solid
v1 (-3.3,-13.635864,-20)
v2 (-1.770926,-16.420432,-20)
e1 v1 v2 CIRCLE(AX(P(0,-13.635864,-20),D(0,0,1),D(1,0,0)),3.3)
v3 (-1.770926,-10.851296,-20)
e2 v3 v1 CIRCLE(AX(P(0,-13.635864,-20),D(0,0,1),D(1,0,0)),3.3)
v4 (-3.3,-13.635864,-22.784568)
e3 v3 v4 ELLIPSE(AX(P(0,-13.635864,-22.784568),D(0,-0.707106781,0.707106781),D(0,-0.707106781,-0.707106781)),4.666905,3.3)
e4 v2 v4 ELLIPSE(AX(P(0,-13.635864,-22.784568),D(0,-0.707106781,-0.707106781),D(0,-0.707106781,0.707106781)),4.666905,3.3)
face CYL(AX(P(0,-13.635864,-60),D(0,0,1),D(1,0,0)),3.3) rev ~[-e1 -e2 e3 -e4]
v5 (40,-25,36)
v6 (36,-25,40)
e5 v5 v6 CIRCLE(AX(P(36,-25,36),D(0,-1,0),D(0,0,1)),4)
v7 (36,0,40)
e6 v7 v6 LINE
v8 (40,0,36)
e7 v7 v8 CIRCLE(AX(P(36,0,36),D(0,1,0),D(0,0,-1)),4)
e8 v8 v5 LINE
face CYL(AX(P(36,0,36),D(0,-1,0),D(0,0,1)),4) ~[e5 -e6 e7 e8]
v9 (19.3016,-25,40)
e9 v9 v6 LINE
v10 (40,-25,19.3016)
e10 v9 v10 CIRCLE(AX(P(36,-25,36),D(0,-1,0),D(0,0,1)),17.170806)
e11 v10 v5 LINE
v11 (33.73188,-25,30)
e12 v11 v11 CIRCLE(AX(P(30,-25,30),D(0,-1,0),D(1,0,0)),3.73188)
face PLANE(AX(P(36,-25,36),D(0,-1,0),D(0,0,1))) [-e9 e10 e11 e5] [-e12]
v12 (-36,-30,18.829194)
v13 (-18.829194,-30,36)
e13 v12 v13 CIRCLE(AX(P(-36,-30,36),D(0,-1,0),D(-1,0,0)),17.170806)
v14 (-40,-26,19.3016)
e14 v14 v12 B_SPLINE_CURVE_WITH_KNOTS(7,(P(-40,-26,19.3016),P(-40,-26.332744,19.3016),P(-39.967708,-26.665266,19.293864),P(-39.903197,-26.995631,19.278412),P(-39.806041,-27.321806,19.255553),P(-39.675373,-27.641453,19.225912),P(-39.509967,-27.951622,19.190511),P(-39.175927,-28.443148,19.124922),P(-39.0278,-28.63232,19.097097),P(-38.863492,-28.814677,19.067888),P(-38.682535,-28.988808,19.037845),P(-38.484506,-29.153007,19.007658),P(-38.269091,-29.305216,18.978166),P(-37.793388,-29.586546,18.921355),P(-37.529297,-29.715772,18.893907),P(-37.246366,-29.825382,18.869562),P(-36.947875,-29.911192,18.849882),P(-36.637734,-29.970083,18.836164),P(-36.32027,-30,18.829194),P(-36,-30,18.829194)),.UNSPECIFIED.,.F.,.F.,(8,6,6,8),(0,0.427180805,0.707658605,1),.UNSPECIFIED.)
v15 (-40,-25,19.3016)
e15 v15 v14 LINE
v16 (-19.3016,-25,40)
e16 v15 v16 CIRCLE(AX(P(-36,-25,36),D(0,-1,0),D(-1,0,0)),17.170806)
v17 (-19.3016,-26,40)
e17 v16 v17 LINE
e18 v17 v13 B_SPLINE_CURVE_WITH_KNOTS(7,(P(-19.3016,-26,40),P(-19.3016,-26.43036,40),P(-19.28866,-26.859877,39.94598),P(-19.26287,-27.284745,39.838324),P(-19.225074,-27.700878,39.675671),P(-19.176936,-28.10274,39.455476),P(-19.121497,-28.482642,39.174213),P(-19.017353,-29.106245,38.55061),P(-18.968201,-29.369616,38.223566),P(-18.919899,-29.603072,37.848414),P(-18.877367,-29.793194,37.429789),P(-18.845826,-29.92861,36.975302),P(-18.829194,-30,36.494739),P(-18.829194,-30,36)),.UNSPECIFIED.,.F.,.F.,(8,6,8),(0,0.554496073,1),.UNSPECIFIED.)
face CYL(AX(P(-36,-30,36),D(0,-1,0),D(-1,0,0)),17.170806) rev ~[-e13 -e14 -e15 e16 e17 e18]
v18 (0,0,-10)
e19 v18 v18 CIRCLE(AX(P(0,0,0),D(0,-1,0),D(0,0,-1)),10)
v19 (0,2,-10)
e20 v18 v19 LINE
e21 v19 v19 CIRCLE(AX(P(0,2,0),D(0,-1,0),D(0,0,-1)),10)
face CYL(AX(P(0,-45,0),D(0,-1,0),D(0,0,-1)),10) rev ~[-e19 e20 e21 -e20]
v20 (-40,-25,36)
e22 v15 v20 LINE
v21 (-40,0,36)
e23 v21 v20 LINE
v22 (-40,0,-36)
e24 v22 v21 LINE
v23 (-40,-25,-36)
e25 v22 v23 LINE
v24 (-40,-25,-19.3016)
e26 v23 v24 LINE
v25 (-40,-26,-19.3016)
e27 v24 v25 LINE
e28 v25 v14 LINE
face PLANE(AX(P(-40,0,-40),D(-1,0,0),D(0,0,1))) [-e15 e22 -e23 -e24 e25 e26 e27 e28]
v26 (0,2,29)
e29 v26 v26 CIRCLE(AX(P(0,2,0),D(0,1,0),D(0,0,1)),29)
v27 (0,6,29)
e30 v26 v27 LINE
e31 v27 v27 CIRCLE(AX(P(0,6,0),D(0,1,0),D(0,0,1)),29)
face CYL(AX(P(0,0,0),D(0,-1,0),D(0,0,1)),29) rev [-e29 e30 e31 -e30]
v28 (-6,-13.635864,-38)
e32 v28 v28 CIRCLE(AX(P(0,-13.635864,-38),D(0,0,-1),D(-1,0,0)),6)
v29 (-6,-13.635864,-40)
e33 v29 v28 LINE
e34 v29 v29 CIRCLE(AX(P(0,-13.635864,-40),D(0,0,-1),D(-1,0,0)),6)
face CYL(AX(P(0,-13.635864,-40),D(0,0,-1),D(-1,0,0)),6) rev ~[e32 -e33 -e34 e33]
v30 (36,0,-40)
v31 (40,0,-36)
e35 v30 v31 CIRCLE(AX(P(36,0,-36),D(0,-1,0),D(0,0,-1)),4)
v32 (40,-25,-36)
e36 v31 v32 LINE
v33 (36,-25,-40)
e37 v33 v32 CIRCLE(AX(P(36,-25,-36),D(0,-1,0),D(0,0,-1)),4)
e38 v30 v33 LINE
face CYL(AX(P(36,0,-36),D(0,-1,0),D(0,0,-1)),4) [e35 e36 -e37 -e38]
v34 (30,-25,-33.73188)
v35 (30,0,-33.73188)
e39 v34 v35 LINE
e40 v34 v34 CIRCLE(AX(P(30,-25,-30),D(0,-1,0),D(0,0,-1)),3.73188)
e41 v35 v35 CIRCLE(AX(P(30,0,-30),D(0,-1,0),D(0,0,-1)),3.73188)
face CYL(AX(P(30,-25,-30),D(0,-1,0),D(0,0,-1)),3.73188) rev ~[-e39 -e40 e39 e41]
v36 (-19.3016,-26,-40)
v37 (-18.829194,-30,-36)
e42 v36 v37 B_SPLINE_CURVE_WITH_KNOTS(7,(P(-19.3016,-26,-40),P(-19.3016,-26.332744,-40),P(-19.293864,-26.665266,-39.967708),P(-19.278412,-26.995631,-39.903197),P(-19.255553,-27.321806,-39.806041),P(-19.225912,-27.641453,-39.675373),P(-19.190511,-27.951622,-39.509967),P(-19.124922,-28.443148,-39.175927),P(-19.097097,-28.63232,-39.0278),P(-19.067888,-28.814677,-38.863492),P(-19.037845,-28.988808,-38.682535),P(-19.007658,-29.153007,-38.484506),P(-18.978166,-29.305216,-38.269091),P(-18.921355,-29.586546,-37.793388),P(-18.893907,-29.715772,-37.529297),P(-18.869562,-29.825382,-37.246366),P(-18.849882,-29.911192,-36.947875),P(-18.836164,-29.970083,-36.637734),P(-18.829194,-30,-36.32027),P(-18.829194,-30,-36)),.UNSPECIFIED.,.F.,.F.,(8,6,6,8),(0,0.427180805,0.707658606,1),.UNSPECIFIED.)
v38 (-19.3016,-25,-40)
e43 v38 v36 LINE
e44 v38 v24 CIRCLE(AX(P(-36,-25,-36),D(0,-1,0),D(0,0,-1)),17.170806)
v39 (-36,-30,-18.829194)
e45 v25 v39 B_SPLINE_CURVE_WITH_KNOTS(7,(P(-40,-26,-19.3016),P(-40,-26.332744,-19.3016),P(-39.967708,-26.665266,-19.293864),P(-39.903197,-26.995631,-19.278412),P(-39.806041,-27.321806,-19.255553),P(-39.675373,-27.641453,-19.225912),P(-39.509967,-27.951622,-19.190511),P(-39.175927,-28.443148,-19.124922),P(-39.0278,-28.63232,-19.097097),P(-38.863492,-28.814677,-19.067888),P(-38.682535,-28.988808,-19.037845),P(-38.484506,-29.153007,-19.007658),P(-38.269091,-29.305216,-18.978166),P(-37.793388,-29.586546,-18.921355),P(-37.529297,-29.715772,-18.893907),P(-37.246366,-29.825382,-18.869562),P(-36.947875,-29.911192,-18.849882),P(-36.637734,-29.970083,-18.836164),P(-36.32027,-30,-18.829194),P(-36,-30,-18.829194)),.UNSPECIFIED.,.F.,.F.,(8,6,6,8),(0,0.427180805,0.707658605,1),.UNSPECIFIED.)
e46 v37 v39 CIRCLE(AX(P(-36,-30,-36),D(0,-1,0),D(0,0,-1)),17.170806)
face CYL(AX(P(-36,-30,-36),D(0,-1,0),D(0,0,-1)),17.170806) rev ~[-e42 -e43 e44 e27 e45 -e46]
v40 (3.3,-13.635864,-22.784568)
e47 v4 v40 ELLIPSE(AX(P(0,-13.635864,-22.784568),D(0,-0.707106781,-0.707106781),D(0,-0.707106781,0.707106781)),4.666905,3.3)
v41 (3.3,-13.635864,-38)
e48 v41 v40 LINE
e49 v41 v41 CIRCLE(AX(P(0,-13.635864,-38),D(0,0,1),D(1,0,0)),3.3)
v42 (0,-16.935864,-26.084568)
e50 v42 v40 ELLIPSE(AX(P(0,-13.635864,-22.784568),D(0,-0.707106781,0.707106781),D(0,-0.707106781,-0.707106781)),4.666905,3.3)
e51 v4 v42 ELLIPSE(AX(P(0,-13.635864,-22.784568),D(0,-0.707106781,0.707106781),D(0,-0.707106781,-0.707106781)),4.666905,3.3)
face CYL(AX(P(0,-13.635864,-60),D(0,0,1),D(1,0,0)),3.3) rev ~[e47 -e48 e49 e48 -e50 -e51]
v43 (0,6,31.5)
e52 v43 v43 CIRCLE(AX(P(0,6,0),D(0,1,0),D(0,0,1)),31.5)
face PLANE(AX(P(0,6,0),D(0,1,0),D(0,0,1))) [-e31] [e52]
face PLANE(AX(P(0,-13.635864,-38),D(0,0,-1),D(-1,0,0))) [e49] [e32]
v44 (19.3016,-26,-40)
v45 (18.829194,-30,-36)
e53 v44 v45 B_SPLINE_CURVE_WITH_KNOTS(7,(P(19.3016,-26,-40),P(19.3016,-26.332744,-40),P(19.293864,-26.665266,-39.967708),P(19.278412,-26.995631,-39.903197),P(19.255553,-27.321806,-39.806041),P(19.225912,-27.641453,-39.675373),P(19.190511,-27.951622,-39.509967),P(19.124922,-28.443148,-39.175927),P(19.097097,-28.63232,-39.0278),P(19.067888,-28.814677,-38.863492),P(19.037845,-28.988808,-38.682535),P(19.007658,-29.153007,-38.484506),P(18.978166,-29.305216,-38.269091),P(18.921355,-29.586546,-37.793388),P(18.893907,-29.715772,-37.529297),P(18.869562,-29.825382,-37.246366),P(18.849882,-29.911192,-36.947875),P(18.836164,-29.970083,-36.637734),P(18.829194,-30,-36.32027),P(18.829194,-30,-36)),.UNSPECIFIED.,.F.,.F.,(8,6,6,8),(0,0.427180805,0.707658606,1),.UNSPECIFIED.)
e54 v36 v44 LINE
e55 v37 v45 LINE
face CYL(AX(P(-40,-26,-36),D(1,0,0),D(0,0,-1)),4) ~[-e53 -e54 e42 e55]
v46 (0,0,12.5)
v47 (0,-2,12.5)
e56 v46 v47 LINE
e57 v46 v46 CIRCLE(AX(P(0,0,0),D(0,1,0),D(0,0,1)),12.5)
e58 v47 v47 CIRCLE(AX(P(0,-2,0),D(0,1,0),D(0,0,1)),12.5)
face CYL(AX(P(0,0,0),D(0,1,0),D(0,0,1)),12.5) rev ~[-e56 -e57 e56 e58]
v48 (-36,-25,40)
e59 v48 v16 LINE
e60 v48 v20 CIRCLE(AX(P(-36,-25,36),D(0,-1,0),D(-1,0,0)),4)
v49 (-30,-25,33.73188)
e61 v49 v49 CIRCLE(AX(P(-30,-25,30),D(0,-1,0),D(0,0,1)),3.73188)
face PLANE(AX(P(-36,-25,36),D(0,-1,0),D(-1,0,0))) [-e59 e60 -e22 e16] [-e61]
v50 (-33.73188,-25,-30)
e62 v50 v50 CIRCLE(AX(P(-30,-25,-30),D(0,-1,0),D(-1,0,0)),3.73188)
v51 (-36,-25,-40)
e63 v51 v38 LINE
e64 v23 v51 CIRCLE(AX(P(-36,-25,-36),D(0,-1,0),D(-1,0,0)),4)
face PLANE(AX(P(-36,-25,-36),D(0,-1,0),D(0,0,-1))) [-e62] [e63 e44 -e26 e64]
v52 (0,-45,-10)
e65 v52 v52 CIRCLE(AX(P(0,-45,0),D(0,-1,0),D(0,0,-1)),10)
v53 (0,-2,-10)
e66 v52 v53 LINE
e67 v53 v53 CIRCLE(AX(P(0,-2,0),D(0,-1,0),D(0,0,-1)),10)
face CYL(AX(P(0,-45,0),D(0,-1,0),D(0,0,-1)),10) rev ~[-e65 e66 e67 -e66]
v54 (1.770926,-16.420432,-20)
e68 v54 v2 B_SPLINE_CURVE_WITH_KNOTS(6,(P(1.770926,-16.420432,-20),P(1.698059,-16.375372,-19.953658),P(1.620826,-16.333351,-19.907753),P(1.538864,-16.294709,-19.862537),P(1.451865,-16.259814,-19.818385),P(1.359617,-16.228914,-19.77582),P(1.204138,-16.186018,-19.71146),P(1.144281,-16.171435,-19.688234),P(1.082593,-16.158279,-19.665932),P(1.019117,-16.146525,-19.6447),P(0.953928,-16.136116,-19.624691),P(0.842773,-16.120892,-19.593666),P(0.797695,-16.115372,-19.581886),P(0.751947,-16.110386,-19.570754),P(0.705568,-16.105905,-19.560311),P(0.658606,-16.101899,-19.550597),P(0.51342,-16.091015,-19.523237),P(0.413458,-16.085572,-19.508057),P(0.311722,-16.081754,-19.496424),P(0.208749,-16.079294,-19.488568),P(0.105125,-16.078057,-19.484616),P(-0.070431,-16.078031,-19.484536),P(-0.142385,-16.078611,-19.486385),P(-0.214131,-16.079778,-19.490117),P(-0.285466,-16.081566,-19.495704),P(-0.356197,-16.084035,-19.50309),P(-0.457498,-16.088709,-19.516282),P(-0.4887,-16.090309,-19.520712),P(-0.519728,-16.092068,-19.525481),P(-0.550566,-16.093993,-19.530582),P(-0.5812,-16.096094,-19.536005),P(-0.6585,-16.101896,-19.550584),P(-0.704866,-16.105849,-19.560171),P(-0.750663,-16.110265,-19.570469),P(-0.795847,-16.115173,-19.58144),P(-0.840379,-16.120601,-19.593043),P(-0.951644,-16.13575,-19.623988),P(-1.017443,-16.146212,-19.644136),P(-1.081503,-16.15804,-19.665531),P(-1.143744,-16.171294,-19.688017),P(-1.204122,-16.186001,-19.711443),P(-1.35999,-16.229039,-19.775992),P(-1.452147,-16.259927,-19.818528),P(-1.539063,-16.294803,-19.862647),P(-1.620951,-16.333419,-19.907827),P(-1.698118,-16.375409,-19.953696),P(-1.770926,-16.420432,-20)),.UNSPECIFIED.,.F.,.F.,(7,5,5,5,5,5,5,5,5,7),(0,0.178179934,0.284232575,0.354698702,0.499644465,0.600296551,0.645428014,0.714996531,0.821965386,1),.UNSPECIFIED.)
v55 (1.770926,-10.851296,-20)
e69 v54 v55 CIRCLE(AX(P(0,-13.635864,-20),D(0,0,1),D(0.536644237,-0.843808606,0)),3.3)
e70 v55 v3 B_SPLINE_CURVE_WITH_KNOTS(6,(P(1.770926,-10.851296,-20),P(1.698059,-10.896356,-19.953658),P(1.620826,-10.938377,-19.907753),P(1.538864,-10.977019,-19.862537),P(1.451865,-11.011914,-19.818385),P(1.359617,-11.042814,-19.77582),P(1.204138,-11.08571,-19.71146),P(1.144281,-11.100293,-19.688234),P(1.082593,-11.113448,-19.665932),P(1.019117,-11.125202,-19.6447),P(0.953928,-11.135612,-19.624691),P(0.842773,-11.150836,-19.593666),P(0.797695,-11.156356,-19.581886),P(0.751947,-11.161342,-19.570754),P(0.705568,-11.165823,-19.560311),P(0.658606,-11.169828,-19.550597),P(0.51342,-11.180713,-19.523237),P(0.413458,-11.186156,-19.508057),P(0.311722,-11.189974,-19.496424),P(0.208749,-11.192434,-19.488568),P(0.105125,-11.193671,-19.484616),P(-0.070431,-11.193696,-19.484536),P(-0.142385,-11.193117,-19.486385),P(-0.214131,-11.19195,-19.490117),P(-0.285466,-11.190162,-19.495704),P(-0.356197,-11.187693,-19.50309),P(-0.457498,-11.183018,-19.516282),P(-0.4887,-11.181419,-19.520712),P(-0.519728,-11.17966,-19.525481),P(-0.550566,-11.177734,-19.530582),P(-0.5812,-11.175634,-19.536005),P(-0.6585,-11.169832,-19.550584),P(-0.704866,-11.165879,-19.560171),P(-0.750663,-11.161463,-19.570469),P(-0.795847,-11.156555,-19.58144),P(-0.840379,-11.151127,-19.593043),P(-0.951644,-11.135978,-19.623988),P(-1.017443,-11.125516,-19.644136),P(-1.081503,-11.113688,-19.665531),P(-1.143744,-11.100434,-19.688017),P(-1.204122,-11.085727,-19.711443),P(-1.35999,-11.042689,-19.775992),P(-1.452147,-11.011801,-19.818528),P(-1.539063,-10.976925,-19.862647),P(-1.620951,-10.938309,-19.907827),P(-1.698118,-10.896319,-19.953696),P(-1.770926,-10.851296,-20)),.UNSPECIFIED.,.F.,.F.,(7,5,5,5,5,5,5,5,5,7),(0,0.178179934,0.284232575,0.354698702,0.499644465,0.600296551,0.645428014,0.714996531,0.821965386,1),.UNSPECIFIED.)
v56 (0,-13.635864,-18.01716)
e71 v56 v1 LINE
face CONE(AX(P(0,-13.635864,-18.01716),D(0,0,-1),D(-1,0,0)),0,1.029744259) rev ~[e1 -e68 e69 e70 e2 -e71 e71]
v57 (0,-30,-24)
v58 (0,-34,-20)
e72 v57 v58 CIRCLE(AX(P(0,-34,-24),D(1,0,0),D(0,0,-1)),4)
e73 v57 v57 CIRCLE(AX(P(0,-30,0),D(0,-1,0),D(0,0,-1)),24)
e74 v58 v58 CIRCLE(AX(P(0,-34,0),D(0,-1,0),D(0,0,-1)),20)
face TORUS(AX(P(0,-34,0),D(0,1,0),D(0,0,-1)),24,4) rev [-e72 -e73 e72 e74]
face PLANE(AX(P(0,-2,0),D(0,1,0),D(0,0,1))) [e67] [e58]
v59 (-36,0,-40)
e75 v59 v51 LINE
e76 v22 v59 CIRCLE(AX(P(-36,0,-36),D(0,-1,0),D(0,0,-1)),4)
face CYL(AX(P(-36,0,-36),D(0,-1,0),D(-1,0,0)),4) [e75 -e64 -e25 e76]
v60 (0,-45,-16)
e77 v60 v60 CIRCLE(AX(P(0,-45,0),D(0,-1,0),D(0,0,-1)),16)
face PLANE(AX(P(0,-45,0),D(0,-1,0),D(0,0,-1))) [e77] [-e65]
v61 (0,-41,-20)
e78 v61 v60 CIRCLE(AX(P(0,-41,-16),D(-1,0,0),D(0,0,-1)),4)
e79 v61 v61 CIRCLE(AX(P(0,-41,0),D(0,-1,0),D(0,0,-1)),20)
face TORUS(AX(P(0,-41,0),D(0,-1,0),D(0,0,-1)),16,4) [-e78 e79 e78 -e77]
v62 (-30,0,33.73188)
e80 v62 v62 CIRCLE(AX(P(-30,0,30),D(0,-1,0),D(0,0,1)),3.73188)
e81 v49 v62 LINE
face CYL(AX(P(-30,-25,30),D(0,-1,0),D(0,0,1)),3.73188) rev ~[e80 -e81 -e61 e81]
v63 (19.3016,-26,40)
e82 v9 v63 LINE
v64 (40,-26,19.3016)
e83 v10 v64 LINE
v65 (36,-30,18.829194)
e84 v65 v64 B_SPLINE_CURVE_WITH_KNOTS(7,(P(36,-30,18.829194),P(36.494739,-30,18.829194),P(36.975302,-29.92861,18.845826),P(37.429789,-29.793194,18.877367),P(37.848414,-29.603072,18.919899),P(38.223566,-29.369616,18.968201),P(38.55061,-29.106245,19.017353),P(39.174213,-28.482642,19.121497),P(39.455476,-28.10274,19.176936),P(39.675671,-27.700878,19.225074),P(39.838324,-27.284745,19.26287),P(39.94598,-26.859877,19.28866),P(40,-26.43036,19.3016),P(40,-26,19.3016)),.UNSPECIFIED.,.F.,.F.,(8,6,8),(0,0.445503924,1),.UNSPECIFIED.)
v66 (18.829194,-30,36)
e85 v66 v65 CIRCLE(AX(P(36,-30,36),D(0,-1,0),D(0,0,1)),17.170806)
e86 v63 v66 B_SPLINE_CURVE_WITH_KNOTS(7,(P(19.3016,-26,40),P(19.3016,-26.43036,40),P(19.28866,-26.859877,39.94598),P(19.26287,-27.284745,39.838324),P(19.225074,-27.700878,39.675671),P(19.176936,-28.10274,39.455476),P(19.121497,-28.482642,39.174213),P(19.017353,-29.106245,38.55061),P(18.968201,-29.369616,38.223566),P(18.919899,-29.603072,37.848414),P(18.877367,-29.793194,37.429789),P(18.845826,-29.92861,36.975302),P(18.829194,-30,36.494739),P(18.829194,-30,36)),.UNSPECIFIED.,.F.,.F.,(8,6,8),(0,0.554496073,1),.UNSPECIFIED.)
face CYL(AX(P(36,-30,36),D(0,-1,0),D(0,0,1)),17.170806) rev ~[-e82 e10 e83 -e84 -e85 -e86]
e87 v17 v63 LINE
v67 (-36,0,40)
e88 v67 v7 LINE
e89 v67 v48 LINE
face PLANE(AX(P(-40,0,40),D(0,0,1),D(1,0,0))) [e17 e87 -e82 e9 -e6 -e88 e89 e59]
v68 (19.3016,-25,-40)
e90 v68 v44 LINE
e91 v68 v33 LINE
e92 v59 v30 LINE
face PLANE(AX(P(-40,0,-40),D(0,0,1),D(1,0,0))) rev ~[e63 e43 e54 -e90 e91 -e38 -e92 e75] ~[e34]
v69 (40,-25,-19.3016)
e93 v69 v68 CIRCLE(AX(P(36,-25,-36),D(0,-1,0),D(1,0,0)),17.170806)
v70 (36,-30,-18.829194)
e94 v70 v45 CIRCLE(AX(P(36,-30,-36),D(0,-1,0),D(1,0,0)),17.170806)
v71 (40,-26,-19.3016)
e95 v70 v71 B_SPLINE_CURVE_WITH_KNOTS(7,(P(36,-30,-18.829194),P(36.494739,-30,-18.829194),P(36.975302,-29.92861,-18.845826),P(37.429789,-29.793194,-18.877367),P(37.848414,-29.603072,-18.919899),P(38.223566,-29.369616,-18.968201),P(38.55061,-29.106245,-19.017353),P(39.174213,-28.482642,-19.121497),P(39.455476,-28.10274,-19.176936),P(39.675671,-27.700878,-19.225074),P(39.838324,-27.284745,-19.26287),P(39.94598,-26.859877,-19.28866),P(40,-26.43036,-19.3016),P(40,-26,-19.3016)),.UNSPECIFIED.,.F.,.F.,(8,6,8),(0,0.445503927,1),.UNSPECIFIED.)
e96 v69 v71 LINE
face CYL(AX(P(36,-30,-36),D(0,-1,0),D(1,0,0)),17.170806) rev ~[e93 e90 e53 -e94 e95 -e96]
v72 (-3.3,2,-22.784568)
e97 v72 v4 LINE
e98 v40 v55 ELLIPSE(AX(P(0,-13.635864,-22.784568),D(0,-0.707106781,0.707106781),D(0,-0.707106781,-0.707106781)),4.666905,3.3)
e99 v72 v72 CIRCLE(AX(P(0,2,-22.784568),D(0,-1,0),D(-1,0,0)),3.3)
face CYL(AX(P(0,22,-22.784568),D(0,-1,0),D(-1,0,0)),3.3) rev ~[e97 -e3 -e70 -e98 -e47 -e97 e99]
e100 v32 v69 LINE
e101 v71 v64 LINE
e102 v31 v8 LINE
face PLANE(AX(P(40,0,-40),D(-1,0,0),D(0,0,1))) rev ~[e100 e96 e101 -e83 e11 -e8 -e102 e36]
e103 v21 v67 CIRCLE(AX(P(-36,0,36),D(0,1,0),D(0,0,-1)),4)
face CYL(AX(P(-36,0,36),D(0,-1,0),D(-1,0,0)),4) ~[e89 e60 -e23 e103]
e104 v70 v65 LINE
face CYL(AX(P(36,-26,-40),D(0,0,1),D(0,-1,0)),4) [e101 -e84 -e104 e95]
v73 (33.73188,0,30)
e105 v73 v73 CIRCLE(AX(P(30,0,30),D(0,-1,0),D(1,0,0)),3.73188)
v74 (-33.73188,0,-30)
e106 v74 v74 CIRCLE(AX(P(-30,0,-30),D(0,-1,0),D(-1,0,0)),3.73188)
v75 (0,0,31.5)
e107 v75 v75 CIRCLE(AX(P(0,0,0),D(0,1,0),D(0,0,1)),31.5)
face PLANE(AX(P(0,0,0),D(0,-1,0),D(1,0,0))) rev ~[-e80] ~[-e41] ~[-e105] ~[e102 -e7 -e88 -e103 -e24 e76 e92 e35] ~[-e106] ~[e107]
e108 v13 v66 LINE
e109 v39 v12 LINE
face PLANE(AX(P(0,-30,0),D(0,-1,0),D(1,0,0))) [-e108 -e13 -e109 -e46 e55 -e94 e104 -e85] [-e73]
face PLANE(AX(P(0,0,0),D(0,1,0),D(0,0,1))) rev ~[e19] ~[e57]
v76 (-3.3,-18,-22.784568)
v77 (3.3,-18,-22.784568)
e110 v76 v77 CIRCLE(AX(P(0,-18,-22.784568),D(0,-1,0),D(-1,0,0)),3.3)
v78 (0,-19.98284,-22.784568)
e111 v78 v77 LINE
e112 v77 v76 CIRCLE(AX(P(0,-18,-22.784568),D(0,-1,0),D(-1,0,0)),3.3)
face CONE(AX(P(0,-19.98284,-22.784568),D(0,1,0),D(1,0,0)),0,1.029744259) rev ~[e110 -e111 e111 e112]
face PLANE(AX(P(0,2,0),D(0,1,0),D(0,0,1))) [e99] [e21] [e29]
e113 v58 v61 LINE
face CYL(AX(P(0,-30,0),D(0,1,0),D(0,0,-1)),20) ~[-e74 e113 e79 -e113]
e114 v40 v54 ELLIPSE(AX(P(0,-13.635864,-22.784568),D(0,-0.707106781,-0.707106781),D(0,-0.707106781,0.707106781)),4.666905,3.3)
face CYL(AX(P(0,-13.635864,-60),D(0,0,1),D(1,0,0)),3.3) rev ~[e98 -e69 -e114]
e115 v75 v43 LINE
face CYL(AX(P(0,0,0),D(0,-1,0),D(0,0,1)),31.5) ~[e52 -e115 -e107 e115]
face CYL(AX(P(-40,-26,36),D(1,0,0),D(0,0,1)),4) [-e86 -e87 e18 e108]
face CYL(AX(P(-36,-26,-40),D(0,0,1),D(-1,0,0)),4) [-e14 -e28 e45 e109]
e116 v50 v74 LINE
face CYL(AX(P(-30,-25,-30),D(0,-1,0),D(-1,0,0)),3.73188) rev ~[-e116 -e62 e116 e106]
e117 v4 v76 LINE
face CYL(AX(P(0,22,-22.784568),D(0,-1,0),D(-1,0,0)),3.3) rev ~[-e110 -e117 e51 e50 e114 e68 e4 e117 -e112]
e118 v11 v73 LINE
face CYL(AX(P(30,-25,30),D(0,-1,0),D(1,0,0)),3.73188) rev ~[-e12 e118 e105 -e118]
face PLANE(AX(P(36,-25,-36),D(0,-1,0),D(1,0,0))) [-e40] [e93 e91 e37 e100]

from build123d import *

# Parameters (mm, degrees)
ESQUISSE1_R                  = 31.5
ESQUISSE1_R_2                = 29
BOSS_EXTRU_1_DEPTH           = 6
ESQUISSE2_R                  = 29
BOSS_EXTRU_2_DEPTH           = 2
ESQUISSE3_W                  = 80
ESQUISSE3_H                  = 80
BOSS_EXTRU_3_DEPTH           = 30
CONG_1_R                     = 4
ESQUISSE6_R                  = 20
BOSS_EXTRU_5_DEPTH           = 15
CONG_3_R                     = 4
ESQUISSE7_R                  = 10
ENL_V_MAT_EXTRU_2_DEPTH      = 77.164296097
ESQUISSE8_R                  = 17.170805795
ENL_V_MAT_EXTRU_3_DEPTH      = 5
ESQUISSE9_R                  = 3.731879986
ENL_V_MAT_EXTRU_4_DEPTH      = 65.505813816
R_P_TITION_CIRCULAIRE1_COUNT = 4
D_GAGEMENT_M61_D             = 6.6
D_GAGEMENT_M61_DEPTH         = 20
D_GAGEMENT_M61_TIP           = 1.982840043
D_GAGEMENT_M62_D             = 6.6
D_GAGEMENT_M62_DEPTH         = 20
D_GAGEMENT_M62_TIP           = 1.982840043
ESQUISSE14_R                 = 6
ENL_V_MAT_EXTRU_5_DEPTH      = 2
ESQUISSE15_R                 = 12.5
ENL_V_MAT_EXTRU_6_DEPTH      = 2


with BuildPart() as part:
    # Esquisse1 → Boss.-Extru.1 (new body)
    with BuildSketch(Plane(origin=(0, 0, 0), x_dir=(1, 0, 0), z_dir=(0, 1, 0))):
        with Locations(Location((0, 0, 0), (0, 0, 270))):
            Circle(ESQUISSE1_R)
        with Locations(Location((0, 0, 0), (0, 0, 270))):
            Circle(ESQUISSE1_R_2, mode=Mode.SUBTRACT)
    extrude(amount=BOSS_EXTRU_1_DEPTH)

    # Esquisse2 → Boss.-Extru.2 (add)
    with BuildSketch(Plane(origin=(0, 0, 0), x_dir=(1, 0, 0), z_dir=(0, 1, 0))):
        with Locations(Location((0, 0, 0), (0, 0, 270))):
            Circle(ESQUISSE2_R)
    extrude(amount=BOSS_EXTRU_2_DEPTH)

    # Esquisse3 → Boss.-Extru.3 (add)
    with BuildSketch(Plane.XZ):
        Rectangle(ESQUISSE3_W, ESQUISSE3_H)
    extrude(amount=BOSS_EXTRU_3_DEPTH)

    # Congé1
    cong_1_edges = [part.edges().sort_by_distance(p)[0] for p in [
        (-40, -15, 40),
        (-40, -15, -40),
        (40, -15, -40),
        (40, -15, 40),
        (-40, -30, 0),
        (0, -30, -40),
        (40, -30, 0),
        (0, -30, 40),
    ]]
    fillet(cong_1_edges, radius=CONG_1_R)

    # Esquisse6 → Boss.-Extru.5 (add)
    with BuildSketch(Plane.XZ.offset(30)):
        with Locations(Location((0, 0, 0), (0, 0, 270))):
            Circle(ESQUISSE6_R)
    extrude(amount=BOSS_EXTRU_5_DEPTH)

    # Congé3
    cong_3_edges = [part.edges().sort_by_distance(p)[0] for p in [
        (0, -30, 20),
        (0, -45, 20),
    ]]
    fillet(cong_3_edges, radius=CONG_3_R)

    # Esquisse7 → Enlèv. mat.-Extru.2 (cut, through all)
    with BuildSketch(Plane(origin=(0, -45, 0), x_dir=(-1, 0, 0), z_dir=(0, -1, 0))):
        with Locations(Location((0, 0, 0), (0, 0, 90))):
            Circle(ESQUISSE7_R)
    extrude(amount=-ENL_V_MAT_EXTRU_2_DEPTH, mode=Mode.SUBTRACT)

    # Esquisse8 → Enlèv. mat.-Extru.3 (cut)
    with BuildSketch(Plane.XZ.offset(30)):
        with Locations((36, -36)):
            Circle(ESQUISSE8_R)
    enl_v_mat_extru_3 = extrude(amount=-ENL_V_MAT_EXTRU_3_DEPTH, mode=Mode.SUBTRACT)

    # Esquisse9 → Enlèv. mat.-Extru.4 (cut, through all)
    with BuildSketch(Plane.XZ.offset(25)):
        with Locations(Location((30, -30, 0), (0, 0, 270))):
            Circle(ESQUISSE9_R)
    enl_v_mat_extru_4 = extrude(amount=-ENL_V_MAT_EXTRU_4_DEPTH, mode=Mode.SUBTRACT)

    # Répétition circulaire1: Enlèv. mat.-Extru.3, Enlèv. mat.-Extru.4 ×4 about axis
    r_p_tition_circulaire1_axis = Axis((0, 0, 0), (0, 1, 0))
    add([enl_v_mat_extru_3.rotate(r_p_tition_circulaire1_axis, i * 360 / R_P_TITION_CIRCULAIRE1_COUNT) for i in range(1, R_P_TITION_CIRCULAIRE1_COUNT)], mode=Mode.SUBTRACT)
    add([enl_v_mat_extru_4.rotate(r_p_tition_circulaire1_axis, i * 360 / R_P_TITION_CIRCULAIRE1_COUNT) for i in range(1, R_P_TITION_CIRCULAIRE1_COUNT)], mode=Mode.SUBTRACT)

    # Dégagement M61
    with Locations(Plane(origin=(0, 2, 0), x_dir=(1, 0, 0), z_dir=(0, 1, 0))):
        with Locations((0, 22.784568399)):
            Hole(D_GAGEMENT_M61_D / 2, depth=D_GAGEMENT_M61_DEPTH)
            with Locations((0, 0, -(D_GAGEMENT_M61_DEPTH + D_GAGEMENT_M61_TIP / 2))):  # 118° drill point
                Cone(0, D_GAGEMENT_M61_D / 2, D_GAGEMENT_M61_TIP, mode=Mode.SUBTRACT)

    # Dégagement M62
    with Locations(Plane(origin=(0, 0, -40), x_dir=(-1, 0, 0), z_dir=(0, 0, -1))):
        with Locations((0, -13.635863914)):
            Hole(D_GAGEMENT_M62_D / 2, depth=D_GAGEMENT_M62_DEPTH)
            with Locations((0, 0, -(D_GAGEMENT_M62_DEPTH + D_GAGEMENT_M62_TIP / 2))):  # 118° drill point
                Cone(0, D_GAGEMENT_M62_D / 2, D_GAGEMENT_M62_TIP, mode=Mode.SUBTRACT)

    # Esquisse14 → Enlèv. mat.-Extru.5 (cut)
    with BuildSketch(Plane(origin=(0, 0, -40), x_dir=(-1, 0, 0), z_dir=(0, 0, -1))):
        with Locations((0, -13.635863914)):
            Circle(ESQUISSE14_R)
    extrude(amount=-ENL_V_MAT_EXTRU_5_DEPTH, mode=Mode.SUBTRACT)

    # Esquisse15 → Enlèv. mat.-Extru.6 (cut)
    with BuildSketch(Plane(origin=(0, 0, 0), x_dir=(1, 0, 0), z_dir=(0, 1, 0))):
        with Locations(Location((0, 0, 0), (0, 0, 270))):
            Circle(ESQUISSE15_R)
    extrude(amount=-ENL_V_MAT_EXTRU_6_DEPTH, mode=Mode.SUBTRACT)


solid = part.part
